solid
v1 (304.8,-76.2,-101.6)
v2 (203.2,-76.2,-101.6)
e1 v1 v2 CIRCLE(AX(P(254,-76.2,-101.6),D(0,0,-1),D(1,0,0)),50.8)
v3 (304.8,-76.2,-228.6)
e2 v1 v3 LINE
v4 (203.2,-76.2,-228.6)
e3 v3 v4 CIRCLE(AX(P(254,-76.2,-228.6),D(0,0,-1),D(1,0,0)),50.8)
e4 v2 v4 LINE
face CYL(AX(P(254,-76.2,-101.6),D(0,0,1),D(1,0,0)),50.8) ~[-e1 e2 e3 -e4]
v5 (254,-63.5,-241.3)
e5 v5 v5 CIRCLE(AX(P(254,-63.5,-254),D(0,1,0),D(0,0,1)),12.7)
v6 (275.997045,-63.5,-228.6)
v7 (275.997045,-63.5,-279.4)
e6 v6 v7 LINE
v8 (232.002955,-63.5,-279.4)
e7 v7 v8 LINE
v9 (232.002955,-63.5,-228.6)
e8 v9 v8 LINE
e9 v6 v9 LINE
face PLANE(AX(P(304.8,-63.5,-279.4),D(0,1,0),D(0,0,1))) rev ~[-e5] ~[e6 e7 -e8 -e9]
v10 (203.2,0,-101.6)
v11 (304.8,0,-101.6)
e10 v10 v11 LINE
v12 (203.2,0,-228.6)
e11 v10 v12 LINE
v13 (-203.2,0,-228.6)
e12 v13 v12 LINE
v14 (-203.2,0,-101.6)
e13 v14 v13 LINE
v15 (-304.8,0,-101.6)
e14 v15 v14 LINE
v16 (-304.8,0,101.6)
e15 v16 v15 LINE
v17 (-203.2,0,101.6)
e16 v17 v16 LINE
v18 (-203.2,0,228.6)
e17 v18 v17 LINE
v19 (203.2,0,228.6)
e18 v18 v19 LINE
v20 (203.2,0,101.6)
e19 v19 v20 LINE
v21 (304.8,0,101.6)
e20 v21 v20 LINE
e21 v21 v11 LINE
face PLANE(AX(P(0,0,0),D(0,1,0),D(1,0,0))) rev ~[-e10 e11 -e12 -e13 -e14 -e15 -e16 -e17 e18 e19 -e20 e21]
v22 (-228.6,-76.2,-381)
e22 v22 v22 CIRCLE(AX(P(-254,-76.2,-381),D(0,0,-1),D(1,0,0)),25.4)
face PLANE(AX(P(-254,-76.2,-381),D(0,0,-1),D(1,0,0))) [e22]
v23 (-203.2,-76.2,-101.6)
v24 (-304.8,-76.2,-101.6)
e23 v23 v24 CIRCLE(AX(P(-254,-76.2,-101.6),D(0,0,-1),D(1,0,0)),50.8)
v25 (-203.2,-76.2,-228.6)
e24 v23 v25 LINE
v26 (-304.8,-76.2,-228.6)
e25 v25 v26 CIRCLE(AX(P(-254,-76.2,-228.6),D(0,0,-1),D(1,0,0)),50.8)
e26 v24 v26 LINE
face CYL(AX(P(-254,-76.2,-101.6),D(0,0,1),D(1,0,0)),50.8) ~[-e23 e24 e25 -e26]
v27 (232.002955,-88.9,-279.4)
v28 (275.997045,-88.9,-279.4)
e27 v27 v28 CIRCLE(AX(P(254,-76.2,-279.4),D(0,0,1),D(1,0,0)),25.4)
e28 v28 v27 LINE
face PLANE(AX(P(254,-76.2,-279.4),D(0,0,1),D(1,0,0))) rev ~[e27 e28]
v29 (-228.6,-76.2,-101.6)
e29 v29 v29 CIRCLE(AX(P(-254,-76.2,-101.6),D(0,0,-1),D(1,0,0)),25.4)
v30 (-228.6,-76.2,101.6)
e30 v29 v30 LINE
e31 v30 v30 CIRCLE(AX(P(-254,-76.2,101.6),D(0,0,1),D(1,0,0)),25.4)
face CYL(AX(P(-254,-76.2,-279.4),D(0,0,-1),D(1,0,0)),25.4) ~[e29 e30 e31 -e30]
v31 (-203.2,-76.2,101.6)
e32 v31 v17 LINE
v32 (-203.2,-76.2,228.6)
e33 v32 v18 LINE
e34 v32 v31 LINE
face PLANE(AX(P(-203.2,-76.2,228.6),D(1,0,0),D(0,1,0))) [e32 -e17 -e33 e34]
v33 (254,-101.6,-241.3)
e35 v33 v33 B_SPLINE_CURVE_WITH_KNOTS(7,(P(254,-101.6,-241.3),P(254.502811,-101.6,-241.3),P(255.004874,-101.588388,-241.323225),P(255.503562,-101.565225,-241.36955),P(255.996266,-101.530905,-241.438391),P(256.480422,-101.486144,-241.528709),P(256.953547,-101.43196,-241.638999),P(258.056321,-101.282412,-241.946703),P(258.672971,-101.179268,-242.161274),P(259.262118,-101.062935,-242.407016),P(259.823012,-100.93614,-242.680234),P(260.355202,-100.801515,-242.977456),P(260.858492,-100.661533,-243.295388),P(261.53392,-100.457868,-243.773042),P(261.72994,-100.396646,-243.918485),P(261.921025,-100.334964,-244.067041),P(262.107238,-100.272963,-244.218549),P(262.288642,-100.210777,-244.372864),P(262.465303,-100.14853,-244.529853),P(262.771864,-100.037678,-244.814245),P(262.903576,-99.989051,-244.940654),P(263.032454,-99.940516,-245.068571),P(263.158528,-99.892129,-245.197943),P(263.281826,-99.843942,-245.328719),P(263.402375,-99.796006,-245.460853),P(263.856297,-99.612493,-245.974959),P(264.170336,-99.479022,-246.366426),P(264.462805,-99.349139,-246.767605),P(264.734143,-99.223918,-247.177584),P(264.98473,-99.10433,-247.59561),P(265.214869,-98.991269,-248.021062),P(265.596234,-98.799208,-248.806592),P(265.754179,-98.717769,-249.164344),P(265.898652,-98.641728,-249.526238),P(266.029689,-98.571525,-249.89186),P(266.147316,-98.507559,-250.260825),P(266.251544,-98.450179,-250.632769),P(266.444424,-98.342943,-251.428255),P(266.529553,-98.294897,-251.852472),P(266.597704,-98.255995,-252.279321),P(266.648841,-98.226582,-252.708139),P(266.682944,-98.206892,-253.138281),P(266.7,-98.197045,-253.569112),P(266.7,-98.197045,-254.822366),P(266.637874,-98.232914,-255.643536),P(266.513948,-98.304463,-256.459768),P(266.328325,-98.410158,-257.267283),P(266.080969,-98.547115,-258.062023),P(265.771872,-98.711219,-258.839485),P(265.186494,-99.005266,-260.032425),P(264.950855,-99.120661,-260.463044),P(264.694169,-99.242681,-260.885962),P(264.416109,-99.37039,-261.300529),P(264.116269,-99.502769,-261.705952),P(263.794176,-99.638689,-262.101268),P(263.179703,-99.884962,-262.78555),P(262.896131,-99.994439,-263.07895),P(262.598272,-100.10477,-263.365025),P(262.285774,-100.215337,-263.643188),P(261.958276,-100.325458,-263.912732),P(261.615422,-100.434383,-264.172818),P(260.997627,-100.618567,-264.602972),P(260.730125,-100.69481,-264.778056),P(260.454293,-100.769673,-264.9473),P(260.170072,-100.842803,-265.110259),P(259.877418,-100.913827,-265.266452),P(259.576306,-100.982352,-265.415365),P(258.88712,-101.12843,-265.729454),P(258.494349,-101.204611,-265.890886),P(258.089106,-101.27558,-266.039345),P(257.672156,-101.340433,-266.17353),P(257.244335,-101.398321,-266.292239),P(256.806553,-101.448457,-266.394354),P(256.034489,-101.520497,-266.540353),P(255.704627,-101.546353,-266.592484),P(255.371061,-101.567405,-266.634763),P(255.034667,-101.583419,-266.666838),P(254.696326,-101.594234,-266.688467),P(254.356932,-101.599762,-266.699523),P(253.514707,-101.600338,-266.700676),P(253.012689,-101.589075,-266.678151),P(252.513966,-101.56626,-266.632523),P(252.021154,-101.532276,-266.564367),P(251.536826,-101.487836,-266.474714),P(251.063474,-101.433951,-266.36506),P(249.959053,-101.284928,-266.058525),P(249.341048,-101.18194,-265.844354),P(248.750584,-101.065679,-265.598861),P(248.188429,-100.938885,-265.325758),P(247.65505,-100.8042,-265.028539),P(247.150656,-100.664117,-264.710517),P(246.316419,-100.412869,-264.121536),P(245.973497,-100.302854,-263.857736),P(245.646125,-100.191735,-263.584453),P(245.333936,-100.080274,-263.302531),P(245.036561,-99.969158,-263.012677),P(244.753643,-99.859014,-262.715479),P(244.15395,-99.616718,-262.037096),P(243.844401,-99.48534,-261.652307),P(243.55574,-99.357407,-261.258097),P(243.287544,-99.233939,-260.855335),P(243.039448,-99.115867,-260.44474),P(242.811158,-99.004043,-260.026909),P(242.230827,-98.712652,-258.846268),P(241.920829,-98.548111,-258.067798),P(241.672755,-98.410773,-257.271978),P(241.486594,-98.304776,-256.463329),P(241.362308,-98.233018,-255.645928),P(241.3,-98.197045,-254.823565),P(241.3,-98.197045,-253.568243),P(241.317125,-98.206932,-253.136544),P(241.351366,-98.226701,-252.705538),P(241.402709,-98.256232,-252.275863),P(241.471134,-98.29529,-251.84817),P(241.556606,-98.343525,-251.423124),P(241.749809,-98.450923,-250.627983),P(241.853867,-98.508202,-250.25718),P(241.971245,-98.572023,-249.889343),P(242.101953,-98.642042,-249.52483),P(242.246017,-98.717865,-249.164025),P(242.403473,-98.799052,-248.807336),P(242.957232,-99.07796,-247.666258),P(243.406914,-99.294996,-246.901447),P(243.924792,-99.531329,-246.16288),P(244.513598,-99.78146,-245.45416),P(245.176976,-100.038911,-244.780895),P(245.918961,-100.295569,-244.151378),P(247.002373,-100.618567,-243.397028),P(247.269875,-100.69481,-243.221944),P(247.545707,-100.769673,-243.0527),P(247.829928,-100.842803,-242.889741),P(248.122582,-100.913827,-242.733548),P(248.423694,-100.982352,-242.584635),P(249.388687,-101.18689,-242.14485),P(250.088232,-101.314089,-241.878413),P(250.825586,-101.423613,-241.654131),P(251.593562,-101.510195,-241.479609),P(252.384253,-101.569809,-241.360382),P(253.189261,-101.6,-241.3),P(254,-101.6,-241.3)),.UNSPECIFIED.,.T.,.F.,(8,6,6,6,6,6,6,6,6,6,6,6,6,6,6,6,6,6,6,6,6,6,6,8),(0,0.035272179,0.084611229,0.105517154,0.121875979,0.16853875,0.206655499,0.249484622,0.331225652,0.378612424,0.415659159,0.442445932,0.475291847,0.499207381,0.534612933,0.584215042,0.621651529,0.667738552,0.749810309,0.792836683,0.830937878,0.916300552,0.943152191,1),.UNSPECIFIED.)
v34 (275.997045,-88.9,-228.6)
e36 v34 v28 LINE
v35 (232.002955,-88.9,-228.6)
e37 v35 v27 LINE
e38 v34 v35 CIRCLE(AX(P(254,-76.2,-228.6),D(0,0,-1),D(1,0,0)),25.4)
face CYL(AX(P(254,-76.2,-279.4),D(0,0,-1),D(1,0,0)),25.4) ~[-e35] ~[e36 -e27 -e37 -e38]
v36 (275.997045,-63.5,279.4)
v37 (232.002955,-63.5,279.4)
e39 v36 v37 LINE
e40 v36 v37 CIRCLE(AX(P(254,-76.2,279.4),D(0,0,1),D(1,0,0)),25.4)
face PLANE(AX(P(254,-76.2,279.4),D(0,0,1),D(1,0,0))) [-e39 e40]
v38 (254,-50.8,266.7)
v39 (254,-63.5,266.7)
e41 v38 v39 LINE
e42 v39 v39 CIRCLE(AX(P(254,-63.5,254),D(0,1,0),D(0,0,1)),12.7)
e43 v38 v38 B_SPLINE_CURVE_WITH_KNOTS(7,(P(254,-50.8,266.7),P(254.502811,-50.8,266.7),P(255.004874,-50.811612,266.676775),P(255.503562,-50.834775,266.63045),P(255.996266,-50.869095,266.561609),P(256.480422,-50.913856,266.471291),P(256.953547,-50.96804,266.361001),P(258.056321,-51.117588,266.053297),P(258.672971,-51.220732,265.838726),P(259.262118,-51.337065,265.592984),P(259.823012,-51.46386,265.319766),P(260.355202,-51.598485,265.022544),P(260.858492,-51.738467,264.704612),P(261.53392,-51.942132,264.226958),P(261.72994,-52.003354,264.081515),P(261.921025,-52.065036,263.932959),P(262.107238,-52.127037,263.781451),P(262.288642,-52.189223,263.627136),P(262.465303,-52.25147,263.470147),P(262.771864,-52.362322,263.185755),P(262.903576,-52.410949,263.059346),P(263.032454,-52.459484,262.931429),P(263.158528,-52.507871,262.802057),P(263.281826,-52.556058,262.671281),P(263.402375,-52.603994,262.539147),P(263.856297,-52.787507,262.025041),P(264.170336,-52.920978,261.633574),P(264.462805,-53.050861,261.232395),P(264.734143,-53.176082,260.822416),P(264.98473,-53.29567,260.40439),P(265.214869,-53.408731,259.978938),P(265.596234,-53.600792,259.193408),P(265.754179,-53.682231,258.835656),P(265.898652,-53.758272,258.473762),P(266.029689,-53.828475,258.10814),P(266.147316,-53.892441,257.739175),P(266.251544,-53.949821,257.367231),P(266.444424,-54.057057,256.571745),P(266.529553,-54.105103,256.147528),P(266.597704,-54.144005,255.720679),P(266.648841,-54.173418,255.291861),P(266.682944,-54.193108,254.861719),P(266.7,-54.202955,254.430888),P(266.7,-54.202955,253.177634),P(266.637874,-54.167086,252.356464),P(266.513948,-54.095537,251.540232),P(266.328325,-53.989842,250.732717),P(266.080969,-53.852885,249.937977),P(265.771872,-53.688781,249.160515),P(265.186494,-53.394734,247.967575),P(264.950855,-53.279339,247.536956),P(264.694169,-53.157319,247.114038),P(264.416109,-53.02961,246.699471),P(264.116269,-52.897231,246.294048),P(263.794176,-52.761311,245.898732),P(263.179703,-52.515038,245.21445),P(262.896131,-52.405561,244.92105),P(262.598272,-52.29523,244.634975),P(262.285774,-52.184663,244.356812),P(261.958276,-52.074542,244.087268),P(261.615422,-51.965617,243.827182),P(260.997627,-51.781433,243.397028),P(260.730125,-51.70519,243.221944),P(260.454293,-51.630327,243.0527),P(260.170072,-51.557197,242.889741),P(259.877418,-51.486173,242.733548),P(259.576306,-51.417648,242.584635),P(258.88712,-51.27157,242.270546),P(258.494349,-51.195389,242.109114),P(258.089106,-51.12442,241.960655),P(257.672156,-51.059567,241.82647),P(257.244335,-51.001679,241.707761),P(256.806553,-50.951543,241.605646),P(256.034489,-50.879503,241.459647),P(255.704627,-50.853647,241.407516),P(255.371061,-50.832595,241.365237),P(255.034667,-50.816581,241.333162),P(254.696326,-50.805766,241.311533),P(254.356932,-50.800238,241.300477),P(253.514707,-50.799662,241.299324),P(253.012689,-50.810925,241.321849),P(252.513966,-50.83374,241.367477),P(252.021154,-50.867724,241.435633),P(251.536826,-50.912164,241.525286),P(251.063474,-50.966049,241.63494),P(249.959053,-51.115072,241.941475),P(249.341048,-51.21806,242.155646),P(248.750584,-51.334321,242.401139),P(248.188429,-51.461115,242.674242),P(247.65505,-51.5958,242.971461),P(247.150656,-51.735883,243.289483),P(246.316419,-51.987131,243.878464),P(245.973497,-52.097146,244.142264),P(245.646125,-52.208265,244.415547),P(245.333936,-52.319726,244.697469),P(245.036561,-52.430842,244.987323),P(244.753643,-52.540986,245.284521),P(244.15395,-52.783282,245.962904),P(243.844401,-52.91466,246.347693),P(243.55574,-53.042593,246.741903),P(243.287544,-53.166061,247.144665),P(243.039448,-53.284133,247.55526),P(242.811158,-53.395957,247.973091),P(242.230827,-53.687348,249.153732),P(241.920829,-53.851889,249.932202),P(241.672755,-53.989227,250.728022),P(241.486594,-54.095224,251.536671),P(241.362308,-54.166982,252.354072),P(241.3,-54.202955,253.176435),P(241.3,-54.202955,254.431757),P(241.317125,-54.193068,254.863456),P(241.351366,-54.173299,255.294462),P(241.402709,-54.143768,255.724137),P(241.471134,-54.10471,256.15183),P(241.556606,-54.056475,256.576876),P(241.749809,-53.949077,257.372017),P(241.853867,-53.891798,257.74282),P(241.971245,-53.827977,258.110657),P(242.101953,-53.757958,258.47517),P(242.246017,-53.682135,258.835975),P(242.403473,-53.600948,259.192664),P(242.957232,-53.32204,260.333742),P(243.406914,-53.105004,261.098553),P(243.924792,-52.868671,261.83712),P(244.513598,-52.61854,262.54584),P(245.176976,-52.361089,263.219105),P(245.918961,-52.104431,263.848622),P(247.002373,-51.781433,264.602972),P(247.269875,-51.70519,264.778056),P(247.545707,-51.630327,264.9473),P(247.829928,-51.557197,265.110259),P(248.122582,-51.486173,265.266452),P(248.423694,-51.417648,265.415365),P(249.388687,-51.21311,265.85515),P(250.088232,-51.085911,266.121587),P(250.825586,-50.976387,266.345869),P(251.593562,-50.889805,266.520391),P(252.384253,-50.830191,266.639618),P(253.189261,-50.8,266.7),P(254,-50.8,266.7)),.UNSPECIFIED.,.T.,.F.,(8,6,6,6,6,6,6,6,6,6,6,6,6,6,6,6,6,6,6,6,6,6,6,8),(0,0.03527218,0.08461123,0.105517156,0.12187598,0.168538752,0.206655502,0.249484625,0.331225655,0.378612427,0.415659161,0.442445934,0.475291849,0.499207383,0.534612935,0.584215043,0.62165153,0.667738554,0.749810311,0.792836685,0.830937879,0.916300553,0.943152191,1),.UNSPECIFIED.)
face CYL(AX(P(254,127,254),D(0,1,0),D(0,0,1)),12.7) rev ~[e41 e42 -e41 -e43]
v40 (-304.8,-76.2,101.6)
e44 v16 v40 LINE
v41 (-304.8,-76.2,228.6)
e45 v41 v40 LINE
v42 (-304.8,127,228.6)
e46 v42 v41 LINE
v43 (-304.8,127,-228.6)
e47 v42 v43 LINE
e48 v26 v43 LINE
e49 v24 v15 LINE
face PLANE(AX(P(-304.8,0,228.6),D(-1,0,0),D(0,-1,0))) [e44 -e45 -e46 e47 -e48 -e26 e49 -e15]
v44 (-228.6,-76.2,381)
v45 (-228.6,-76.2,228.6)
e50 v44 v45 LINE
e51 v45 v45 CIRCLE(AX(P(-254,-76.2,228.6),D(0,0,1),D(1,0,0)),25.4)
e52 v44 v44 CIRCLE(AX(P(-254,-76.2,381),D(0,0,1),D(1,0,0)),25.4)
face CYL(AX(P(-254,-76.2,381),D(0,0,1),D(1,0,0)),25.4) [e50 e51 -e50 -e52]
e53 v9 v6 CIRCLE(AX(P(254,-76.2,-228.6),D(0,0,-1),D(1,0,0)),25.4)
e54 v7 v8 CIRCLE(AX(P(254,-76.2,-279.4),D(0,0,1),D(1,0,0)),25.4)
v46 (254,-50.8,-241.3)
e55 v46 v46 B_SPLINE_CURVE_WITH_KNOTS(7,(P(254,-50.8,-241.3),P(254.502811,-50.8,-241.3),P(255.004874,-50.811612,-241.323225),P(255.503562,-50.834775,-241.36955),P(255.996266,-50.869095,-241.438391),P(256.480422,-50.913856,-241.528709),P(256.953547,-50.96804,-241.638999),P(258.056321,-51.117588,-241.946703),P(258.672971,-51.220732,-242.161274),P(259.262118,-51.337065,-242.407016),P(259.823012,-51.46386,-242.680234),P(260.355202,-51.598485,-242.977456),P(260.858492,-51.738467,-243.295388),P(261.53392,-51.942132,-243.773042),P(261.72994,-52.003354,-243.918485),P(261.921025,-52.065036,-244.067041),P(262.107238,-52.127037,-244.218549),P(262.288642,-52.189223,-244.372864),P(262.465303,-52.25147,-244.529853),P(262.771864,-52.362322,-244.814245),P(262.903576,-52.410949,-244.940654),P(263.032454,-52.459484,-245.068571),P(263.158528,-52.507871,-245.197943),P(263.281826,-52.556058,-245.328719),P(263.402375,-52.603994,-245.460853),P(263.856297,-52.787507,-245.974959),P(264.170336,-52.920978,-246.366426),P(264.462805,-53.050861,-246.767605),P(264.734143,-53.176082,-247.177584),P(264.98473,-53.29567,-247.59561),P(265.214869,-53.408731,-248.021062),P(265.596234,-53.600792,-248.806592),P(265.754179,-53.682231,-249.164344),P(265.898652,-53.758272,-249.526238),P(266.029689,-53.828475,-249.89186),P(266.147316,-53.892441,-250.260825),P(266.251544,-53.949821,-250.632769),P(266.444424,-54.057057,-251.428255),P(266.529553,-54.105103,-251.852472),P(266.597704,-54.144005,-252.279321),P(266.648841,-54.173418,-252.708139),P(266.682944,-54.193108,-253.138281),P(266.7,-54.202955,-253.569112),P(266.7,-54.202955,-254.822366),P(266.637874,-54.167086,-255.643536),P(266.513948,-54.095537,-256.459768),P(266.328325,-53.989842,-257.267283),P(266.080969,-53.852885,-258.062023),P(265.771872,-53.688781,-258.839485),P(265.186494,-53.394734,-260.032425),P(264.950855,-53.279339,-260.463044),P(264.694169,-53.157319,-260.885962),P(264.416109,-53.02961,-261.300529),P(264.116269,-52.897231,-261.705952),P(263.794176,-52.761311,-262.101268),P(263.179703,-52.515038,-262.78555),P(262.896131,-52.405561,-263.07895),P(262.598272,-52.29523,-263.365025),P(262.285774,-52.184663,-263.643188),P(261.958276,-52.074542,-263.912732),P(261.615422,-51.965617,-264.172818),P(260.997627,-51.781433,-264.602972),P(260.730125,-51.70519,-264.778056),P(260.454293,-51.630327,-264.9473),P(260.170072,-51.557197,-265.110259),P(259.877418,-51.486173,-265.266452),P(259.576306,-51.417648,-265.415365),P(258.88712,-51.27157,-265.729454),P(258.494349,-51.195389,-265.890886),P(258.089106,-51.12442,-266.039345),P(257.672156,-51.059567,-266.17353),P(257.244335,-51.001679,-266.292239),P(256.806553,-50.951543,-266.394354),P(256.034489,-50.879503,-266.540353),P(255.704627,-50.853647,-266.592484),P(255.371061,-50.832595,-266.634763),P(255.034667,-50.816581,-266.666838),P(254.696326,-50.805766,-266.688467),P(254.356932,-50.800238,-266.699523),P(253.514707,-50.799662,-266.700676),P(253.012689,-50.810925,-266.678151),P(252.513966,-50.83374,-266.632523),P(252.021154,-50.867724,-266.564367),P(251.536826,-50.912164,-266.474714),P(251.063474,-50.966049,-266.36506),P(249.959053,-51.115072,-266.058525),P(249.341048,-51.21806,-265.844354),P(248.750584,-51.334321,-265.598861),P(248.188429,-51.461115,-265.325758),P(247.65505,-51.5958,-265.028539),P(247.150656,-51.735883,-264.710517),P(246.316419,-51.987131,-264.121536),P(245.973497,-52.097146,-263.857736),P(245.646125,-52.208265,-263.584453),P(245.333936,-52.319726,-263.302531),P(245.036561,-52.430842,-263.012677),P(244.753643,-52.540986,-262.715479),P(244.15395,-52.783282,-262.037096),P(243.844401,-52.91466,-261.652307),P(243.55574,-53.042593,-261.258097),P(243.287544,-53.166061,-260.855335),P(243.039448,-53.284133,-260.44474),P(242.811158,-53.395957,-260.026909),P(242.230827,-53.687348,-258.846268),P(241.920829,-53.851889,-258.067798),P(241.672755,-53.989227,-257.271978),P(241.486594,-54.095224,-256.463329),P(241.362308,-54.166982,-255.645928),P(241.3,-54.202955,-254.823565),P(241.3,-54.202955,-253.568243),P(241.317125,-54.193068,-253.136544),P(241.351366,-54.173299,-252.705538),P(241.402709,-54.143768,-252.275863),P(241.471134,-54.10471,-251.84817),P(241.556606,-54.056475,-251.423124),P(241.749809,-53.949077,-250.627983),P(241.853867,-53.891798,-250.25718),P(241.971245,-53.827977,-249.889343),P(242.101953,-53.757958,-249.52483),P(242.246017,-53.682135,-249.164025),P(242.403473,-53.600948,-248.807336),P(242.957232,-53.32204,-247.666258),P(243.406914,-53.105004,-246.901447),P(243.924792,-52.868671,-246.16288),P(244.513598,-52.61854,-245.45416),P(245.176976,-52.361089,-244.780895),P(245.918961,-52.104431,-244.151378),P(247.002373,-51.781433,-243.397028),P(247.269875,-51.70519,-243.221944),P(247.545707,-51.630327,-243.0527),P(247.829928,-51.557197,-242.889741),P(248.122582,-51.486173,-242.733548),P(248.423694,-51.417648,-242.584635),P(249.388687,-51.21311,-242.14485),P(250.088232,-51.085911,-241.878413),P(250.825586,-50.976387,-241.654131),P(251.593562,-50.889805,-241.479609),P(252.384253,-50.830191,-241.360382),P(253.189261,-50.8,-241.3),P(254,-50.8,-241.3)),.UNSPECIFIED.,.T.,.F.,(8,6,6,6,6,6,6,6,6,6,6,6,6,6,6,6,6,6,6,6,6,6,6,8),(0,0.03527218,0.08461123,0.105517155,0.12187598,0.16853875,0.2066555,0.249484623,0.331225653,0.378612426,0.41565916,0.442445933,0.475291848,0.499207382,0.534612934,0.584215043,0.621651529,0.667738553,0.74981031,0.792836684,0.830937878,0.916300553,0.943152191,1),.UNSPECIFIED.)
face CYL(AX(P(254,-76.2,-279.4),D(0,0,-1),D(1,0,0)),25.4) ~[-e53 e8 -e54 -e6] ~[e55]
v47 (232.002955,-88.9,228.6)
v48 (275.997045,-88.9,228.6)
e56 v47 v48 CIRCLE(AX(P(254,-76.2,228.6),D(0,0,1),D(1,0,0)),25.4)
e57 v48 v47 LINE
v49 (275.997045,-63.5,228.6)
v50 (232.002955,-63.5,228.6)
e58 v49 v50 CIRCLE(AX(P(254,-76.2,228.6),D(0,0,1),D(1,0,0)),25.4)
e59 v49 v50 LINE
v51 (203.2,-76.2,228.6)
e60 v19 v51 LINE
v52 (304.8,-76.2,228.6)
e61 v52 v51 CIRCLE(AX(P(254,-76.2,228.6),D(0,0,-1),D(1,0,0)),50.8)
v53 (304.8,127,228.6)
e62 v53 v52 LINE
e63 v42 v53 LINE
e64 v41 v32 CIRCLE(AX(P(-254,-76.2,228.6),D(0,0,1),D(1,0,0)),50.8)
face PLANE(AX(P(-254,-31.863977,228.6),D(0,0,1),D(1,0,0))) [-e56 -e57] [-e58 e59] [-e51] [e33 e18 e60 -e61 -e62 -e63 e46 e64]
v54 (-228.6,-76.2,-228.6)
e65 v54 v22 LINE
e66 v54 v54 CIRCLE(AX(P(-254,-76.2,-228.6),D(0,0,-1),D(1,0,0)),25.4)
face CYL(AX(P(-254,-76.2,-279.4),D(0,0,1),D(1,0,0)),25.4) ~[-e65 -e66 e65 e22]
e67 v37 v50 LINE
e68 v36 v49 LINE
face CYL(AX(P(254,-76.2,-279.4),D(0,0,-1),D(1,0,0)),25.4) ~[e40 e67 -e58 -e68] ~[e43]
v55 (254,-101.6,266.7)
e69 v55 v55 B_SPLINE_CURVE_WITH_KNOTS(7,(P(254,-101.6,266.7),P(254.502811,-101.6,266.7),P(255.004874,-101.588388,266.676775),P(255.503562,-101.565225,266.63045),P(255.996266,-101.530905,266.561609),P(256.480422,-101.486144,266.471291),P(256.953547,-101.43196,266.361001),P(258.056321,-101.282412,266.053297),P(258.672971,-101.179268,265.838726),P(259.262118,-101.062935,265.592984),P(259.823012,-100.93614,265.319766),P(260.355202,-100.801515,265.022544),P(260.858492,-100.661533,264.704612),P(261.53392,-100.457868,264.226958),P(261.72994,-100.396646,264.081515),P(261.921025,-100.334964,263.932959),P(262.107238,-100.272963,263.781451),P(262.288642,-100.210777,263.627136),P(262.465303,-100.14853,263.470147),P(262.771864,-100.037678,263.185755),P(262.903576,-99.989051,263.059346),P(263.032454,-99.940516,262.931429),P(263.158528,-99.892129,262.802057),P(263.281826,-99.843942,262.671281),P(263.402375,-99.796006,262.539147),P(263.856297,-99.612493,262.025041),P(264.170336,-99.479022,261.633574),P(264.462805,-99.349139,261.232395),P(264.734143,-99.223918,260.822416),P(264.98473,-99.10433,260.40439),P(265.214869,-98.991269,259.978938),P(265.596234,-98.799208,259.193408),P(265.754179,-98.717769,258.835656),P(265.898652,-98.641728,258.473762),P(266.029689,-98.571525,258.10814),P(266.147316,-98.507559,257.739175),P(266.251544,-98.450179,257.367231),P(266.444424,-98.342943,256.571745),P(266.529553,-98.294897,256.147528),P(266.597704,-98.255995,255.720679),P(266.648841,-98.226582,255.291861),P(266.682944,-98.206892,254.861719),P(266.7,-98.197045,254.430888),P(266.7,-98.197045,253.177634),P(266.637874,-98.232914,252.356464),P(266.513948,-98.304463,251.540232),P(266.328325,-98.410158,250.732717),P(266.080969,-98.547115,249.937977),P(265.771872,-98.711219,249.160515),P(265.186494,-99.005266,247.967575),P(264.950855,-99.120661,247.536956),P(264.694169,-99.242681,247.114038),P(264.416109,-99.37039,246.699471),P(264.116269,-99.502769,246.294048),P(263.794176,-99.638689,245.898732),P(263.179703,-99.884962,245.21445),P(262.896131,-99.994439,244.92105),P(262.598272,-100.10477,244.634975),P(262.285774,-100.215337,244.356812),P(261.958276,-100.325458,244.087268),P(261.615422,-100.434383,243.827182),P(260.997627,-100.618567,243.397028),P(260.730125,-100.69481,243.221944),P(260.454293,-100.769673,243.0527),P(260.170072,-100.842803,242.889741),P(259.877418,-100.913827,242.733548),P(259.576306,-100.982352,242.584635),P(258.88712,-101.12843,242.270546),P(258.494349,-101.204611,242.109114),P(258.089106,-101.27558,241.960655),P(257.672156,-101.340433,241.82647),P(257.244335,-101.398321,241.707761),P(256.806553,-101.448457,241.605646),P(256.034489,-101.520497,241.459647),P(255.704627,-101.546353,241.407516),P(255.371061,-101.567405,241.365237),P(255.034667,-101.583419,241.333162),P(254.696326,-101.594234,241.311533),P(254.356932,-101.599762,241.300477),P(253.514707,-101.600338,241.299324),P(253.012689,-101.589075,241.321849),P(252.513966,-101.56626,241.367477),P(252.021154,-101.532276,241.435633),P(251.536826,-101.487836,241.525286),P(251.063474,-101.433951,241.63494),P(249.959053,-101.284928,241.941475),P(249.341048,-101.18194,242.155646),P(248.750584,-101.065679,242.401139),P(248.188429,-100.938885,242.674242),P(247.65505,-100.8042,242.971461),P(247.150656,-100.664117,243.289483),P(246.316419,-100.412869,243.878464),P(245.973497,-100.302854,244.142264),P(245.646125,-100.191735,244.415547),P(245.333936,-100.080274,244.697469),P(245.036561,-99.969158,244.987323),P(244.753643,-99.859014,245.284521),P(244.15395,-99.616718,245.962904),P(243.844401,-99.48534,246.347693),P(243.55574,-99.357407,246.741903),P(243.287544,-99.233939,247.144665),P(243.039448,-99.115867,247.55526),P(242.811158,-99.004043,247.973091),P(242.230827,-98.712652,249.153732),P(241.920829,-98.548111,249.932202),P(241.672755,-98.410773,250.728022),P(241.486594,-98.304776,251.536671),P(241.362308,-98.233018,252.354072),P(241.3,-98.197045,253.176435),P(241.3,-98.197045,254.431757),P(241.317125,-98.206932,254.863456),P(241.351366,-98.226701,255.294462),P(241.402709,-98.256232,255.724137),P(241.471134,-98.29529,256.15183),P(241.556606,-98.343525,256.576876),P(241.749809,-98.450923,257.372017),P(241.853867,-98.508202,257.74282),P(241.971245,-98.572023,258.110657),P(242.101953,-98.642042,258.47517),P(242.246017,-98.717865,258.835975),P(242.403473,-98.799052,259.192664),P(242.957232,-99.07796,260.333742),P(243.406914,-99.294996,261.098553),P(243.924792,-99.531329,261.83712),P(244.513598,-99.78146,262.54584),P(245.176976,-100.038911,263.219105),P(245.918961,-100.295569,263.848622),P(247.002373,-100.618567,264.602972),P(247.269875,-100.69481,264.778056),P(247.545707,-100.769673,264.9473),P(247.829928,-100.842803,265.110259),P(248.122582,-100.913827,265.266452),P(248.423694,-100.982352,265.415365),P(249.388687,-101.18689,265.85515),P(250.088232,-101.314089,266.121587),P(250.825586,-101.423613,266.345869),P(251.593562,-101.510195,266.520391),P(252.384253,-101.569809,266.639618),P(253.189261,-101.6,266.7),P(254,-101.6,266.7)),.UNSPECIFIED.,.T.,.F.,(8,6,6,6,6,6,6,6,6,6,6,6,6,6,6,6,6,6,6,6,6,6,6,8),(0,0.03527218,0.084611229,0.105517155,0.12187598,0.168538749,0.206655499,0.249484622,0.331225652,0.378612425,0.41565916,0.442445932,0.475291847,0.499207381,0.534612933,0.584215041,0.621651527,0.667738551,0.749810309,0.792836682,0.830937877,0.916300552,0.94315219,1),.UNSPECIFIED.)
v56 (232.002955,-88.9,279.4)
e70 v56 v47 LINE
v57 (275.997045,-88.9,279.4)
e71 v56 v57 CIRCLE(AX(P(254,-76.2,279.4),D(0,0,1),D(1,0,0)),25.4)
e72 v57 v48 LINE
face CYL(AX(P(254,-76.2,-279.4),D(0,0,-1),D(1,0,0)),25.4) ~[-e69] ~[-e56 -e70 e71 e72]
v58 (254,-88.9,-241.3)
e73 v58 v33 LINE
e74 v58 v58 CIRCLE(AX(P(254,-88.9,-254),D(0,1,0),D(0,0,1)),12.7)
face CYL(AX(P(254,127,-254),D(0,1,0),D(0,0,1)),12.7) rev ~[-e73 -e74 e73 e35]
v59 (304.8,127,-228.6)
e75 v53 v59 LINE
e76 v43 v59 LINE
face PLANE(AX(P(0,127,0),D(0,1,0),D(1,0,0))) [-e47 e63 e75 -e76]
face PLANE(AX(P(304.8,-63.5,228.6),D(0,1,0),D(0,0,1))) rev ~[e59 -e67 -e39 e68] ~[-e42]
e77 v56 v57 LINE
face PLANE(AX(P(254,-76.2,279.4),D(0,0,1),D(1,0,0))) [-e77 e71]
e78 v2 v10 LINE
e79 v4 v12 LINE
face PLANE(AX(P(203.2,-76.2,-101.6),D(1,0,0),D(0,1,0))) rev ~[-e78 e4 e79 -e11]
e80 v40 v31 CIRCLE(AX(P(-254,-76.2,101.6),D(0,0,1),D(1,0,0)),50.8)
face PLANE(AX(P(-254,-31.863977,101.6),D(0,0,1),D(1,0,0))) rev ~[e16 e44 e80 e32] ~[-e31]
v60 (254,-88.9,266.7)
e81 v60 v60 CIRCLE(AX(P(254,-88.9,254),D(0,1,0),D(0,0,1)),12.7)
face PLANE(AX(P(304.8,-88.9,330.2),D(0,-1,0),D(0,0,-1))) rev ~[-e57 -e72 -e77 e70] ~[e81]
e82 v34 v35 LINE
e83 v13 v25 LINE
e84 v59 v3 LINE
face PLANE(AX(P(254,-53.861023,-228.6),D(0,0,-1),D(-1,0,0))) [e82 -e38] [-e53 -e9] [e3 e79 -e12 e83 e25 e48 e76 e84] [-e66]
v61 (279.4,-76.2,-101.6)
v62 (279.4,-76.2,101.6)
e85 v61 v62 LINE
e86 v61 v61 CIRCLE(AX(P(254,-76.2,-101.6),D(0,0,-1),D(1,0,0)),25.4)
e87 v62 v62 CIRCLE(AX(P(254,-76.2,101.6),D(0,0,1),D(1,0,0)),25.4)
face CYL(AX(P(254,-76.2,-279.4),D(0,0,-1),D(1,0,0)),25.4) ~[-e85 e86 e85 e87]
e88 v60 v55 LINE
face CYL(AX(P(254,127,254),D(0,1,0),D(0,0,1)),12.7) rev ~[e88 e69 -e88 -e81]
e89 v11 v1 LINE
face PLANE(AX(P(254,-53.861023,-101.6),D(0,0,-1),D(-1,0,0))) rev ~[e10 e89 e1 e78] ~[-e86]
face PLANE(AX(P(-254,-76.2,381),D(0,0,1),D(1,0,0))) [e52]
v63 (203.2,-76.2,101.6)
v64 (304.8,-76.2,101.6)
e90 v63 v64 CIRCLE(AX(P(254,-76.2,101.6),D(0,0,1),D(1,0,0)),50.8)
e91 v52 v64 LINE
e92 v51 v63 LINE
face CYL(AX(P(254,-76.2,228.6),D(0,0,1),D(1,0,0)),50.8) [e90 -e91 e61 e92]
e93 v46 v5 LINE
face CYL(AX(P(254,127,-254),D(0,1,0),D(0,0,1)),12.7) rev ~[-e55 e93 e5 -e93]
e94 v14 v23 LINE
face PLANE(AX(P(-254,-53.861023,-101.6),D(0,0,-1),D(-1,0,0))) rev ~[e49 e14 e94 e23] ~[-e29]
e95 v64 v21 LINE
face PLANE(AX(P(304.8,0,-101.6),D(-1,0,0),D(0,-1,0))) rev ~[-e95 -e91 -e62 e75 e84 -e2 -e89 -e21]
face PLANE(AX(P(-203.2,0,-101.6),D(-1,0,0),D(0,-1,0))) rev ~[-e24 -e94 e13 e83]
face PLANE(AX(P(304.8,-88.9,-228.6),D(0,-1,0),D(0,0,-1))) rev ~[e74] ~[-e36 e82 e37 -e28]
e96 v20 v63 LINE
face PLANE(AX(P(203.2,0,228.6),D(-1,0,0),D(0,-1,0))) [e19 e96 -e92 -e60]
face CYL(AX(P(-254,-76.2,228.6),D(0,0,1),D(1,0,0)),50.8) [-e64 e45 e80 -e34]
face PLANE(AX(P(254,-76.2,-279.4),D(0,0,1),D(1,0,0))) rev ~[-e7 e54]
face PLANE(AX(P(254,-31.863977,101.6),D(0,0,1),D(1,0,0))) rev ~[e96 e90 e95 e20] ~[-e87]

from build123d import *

# Parameters (mm, degrees)
SKETCH1_W                = 609.6
SKETCH1_H                = 457.2
BOSS_EXTRUDE1_DEPTH      = 127
SKETCH2_R                = 50.8
SKETCH2_R_2              = 25.4
BOSS_EXTRUDE2_DEPTH      = 127
BOSS_EXTRUDE3_START      = -127
SKETCH3_R                = 25.4
BOSS_EXTRUDE3_DEPTH      = 127
BOSS_EXTRUDE4_DEPTH      = 50.8
BOSS_EXTRUDE4_DEPTH_BACK = 508
SKETCH5_R                = 25.4
SKETCH6_R                = 12.7
CUT_EXTRUDE1_DEPTH       = 486.266318633
CUT_EXTRUDE2_DEPTH       = 101.6
SKETCH8_R                = 25.4
BOSS_EXTRUDE5_DEPTH      = 101.6
BOSS_EXTRUDE6_START      = 101.6
SKETCH9_R                = 25.4
BOSS_EXTRUDE6_DEPTH      = 101.6


with BuildPart() as part:
    # Sketch1 → Boss-Extrude1 (new body)
    with BuildSketch(Plane(origin=(0, 0, 0), x_dir=(1, 0, 0), z_dir=(0, 1, 0))):
        Rectangle(SKETCH1_W, SKETCH1_H)
    extrude(amount=BOSS_EXTRUDE1_DEPTH)

    # Sketch2 → Boss-Extrude2 (add)
    # profile 1 of 4: a face of its own
    with BuildSketch(Plane.XY.offset(228.6)):
        with BuildLine():
            Line((-203.2, -76.2), (-203.2, 0))
            Line((-203.2, 0), (-304.8, 0))
            Line((-304.8, 0), (-304.8, -76.2))
            ThreePointArc((-304.8, -76.2), (-254, -25.4), (-203.2, -76.2))
        make_face()
    # profile 2 of 4: a face of its own
    with BuildSketch(Plane.XY.offset(228.6)):
        with Locations((-254, -76.2)):
            Circle(SKETCH2_R)
        with Locations((-254, -76.2)):
            Circle(SKETCH2_R_2, mode=Mode.SUBTRACT)
    # profile 3 of 4: a face of its own
    with BuildSketch(Plane.XY.offset(228.6)):
        with Locations((254, -76.2)):
            Circle(SKETCH2_R)
        with Locations((254, -76.2)):
            Circle(SKETCH2_R_2, mode=Mode.SUBTRACT)
    # profile 4 of 4: a face of its own
    with BuildSketch(Plane.XY.offset(228.6)):
        with BuildLine():
            Line((304.8, -76.2), (304.8, 0))
            Line((304.8, 0), (203.2, 0))
            Line((203.2, 0), (203.2, -76.2))
            ThreePointArc((203.2, -76.2), (254, -25.4), (304.8, -76.2))
        make_face()
    extrude(amount=-BOSS_EXTRUDE2_DEPTH)

    # Sketch3 → Boss-Extrude3 (add)
    # profile 1 of 2: a face of its own
    with BuildSketch(Plane(origin=(0, 0, -228.6), x_dir=(-1, 0, 0), z_dir=(0, 0, -1)).offset(BOSS_EXTRUDE3_START)):
        with BuildLine():
            Line((-203.2, -76.2), (-203.2, 0))
            Line((-203.2, 0), (-304.8, 0))
            Line((-304.8, 0), (-304.8, -76.2))
            ThreePointArc((-304.8, -76.2), (-254, -127), (-203.2, -76.2))
        make_face()
        with Locations(Location((-254, -76.2, 0), (0, 0, 180))):
            Circle(SKETCH3_R, mode=Mode.SUBTRACT)
    # profile 2 of 2: a face of its own
    with BuildSketch(Plane(origin=(0, 0, -228.6), x_dir=(-1, 0, 0), z_dir=(0, 0, -1)).offset(BOSS_EXTRUDE3_START)):
        with BuildLine():
            Line((304.8, -76.2), (304.8, 0))
            Line((304.8, 0), (203.2, 0))
            Line((203.2, 0), (203.2, -76.2))
            ThreePointArc((203.2, -76.2), (254, -127), (304.8, -76.2))
        make_face()
        with Locations(Location((254, -76.2, 0), (0, 0, 180))):
            Circle(SKETCH3_R, mode=Mode.SUBTRACT)
    extrude(amount=BOSS_EXTRUDE3_DEPTH)

    # Sketch5 → Boss-Extrude4 (add, two sides: drawn at the far end of the back side and taken through both)
    with BuildSketch(Plane.XY.offset(228.6).offset(-BOSS_EXTRUDE4_DEPTH_BACK)):
        with Locations((254, -76.2)):
            Circle(SKETCH5_R)
        with Locations((-254, -76.2)):
            Circle(SKETCH5_R)
    extrude(amount=BOSS_EXTRUDE4_DEPTH + BOSS_EXTRUDE4_DEPTH_BACK)

    # Sketch6 → Cut-Extrude1 (cut, through all)
    with BuildSketch(Plane(origin=(0, 127, 0), x_dir=(1, 0, 0), z_dir=(0, 1, 0))):
        with Locations(Location((254, -254, 0), (0, 0, 270))):
            Circle(SKETCH6_R)
        with Locations(Location((254, 254, 0), (0, 0, 270))):
            Circle(SKETCH6_R)
    extrude(amount=-CUT_EXTRUDE1_DEPTH, mode=Mode.SUBTRACT)

    # Sketch7 → Cut-Extrude2 (cut)
    with BuildSketch(Plane(origin=(304.8, 0, 0), x_dir=(0, 0, -1), z_dir=(1, 0, 0))):
        Polygon((-228.6, -63.5), (-330.2, -63.5), (-330.2, -88.9), (-228.6, -88.9), (-228.6, -76.2), align=None)
        Polygon((279.4, -88.9), (279.4, -63.5), (228.6, -63.5), (228.6, -76.2), (228.6, -88.9), align=None)
    extrude(amount=-CUT_EXTRUDE2_DEPTH, mode=Mode.SUBTRACT)

    # Sketch8 → Boss-Extrude5 (add)
    with BuildSketch(Plane(origin=(0, 0, -279.4), x_dir=(-1, 0, 0), z_dir=(0, 0, -1))):
        with Locations(Location((254, -76.2, 0), (0, 0, 180))):
            Circle(SKETCH8_R)
    extrude(amount=BOSS_EXTRUDE5_DEPTH)

    # Sketch9 → Boss-Extrude6 (add)
    with BuildSketch(Plane.XY.offset(279.4).offset(BOSS_EXTRUDE6_START)):
        with Locations((-254, -76.2)):
            Circle(SKETCH9_R)
    extrude(amount=-BOSS_EXTRUDE6_DEPTH)


solid = part.part
